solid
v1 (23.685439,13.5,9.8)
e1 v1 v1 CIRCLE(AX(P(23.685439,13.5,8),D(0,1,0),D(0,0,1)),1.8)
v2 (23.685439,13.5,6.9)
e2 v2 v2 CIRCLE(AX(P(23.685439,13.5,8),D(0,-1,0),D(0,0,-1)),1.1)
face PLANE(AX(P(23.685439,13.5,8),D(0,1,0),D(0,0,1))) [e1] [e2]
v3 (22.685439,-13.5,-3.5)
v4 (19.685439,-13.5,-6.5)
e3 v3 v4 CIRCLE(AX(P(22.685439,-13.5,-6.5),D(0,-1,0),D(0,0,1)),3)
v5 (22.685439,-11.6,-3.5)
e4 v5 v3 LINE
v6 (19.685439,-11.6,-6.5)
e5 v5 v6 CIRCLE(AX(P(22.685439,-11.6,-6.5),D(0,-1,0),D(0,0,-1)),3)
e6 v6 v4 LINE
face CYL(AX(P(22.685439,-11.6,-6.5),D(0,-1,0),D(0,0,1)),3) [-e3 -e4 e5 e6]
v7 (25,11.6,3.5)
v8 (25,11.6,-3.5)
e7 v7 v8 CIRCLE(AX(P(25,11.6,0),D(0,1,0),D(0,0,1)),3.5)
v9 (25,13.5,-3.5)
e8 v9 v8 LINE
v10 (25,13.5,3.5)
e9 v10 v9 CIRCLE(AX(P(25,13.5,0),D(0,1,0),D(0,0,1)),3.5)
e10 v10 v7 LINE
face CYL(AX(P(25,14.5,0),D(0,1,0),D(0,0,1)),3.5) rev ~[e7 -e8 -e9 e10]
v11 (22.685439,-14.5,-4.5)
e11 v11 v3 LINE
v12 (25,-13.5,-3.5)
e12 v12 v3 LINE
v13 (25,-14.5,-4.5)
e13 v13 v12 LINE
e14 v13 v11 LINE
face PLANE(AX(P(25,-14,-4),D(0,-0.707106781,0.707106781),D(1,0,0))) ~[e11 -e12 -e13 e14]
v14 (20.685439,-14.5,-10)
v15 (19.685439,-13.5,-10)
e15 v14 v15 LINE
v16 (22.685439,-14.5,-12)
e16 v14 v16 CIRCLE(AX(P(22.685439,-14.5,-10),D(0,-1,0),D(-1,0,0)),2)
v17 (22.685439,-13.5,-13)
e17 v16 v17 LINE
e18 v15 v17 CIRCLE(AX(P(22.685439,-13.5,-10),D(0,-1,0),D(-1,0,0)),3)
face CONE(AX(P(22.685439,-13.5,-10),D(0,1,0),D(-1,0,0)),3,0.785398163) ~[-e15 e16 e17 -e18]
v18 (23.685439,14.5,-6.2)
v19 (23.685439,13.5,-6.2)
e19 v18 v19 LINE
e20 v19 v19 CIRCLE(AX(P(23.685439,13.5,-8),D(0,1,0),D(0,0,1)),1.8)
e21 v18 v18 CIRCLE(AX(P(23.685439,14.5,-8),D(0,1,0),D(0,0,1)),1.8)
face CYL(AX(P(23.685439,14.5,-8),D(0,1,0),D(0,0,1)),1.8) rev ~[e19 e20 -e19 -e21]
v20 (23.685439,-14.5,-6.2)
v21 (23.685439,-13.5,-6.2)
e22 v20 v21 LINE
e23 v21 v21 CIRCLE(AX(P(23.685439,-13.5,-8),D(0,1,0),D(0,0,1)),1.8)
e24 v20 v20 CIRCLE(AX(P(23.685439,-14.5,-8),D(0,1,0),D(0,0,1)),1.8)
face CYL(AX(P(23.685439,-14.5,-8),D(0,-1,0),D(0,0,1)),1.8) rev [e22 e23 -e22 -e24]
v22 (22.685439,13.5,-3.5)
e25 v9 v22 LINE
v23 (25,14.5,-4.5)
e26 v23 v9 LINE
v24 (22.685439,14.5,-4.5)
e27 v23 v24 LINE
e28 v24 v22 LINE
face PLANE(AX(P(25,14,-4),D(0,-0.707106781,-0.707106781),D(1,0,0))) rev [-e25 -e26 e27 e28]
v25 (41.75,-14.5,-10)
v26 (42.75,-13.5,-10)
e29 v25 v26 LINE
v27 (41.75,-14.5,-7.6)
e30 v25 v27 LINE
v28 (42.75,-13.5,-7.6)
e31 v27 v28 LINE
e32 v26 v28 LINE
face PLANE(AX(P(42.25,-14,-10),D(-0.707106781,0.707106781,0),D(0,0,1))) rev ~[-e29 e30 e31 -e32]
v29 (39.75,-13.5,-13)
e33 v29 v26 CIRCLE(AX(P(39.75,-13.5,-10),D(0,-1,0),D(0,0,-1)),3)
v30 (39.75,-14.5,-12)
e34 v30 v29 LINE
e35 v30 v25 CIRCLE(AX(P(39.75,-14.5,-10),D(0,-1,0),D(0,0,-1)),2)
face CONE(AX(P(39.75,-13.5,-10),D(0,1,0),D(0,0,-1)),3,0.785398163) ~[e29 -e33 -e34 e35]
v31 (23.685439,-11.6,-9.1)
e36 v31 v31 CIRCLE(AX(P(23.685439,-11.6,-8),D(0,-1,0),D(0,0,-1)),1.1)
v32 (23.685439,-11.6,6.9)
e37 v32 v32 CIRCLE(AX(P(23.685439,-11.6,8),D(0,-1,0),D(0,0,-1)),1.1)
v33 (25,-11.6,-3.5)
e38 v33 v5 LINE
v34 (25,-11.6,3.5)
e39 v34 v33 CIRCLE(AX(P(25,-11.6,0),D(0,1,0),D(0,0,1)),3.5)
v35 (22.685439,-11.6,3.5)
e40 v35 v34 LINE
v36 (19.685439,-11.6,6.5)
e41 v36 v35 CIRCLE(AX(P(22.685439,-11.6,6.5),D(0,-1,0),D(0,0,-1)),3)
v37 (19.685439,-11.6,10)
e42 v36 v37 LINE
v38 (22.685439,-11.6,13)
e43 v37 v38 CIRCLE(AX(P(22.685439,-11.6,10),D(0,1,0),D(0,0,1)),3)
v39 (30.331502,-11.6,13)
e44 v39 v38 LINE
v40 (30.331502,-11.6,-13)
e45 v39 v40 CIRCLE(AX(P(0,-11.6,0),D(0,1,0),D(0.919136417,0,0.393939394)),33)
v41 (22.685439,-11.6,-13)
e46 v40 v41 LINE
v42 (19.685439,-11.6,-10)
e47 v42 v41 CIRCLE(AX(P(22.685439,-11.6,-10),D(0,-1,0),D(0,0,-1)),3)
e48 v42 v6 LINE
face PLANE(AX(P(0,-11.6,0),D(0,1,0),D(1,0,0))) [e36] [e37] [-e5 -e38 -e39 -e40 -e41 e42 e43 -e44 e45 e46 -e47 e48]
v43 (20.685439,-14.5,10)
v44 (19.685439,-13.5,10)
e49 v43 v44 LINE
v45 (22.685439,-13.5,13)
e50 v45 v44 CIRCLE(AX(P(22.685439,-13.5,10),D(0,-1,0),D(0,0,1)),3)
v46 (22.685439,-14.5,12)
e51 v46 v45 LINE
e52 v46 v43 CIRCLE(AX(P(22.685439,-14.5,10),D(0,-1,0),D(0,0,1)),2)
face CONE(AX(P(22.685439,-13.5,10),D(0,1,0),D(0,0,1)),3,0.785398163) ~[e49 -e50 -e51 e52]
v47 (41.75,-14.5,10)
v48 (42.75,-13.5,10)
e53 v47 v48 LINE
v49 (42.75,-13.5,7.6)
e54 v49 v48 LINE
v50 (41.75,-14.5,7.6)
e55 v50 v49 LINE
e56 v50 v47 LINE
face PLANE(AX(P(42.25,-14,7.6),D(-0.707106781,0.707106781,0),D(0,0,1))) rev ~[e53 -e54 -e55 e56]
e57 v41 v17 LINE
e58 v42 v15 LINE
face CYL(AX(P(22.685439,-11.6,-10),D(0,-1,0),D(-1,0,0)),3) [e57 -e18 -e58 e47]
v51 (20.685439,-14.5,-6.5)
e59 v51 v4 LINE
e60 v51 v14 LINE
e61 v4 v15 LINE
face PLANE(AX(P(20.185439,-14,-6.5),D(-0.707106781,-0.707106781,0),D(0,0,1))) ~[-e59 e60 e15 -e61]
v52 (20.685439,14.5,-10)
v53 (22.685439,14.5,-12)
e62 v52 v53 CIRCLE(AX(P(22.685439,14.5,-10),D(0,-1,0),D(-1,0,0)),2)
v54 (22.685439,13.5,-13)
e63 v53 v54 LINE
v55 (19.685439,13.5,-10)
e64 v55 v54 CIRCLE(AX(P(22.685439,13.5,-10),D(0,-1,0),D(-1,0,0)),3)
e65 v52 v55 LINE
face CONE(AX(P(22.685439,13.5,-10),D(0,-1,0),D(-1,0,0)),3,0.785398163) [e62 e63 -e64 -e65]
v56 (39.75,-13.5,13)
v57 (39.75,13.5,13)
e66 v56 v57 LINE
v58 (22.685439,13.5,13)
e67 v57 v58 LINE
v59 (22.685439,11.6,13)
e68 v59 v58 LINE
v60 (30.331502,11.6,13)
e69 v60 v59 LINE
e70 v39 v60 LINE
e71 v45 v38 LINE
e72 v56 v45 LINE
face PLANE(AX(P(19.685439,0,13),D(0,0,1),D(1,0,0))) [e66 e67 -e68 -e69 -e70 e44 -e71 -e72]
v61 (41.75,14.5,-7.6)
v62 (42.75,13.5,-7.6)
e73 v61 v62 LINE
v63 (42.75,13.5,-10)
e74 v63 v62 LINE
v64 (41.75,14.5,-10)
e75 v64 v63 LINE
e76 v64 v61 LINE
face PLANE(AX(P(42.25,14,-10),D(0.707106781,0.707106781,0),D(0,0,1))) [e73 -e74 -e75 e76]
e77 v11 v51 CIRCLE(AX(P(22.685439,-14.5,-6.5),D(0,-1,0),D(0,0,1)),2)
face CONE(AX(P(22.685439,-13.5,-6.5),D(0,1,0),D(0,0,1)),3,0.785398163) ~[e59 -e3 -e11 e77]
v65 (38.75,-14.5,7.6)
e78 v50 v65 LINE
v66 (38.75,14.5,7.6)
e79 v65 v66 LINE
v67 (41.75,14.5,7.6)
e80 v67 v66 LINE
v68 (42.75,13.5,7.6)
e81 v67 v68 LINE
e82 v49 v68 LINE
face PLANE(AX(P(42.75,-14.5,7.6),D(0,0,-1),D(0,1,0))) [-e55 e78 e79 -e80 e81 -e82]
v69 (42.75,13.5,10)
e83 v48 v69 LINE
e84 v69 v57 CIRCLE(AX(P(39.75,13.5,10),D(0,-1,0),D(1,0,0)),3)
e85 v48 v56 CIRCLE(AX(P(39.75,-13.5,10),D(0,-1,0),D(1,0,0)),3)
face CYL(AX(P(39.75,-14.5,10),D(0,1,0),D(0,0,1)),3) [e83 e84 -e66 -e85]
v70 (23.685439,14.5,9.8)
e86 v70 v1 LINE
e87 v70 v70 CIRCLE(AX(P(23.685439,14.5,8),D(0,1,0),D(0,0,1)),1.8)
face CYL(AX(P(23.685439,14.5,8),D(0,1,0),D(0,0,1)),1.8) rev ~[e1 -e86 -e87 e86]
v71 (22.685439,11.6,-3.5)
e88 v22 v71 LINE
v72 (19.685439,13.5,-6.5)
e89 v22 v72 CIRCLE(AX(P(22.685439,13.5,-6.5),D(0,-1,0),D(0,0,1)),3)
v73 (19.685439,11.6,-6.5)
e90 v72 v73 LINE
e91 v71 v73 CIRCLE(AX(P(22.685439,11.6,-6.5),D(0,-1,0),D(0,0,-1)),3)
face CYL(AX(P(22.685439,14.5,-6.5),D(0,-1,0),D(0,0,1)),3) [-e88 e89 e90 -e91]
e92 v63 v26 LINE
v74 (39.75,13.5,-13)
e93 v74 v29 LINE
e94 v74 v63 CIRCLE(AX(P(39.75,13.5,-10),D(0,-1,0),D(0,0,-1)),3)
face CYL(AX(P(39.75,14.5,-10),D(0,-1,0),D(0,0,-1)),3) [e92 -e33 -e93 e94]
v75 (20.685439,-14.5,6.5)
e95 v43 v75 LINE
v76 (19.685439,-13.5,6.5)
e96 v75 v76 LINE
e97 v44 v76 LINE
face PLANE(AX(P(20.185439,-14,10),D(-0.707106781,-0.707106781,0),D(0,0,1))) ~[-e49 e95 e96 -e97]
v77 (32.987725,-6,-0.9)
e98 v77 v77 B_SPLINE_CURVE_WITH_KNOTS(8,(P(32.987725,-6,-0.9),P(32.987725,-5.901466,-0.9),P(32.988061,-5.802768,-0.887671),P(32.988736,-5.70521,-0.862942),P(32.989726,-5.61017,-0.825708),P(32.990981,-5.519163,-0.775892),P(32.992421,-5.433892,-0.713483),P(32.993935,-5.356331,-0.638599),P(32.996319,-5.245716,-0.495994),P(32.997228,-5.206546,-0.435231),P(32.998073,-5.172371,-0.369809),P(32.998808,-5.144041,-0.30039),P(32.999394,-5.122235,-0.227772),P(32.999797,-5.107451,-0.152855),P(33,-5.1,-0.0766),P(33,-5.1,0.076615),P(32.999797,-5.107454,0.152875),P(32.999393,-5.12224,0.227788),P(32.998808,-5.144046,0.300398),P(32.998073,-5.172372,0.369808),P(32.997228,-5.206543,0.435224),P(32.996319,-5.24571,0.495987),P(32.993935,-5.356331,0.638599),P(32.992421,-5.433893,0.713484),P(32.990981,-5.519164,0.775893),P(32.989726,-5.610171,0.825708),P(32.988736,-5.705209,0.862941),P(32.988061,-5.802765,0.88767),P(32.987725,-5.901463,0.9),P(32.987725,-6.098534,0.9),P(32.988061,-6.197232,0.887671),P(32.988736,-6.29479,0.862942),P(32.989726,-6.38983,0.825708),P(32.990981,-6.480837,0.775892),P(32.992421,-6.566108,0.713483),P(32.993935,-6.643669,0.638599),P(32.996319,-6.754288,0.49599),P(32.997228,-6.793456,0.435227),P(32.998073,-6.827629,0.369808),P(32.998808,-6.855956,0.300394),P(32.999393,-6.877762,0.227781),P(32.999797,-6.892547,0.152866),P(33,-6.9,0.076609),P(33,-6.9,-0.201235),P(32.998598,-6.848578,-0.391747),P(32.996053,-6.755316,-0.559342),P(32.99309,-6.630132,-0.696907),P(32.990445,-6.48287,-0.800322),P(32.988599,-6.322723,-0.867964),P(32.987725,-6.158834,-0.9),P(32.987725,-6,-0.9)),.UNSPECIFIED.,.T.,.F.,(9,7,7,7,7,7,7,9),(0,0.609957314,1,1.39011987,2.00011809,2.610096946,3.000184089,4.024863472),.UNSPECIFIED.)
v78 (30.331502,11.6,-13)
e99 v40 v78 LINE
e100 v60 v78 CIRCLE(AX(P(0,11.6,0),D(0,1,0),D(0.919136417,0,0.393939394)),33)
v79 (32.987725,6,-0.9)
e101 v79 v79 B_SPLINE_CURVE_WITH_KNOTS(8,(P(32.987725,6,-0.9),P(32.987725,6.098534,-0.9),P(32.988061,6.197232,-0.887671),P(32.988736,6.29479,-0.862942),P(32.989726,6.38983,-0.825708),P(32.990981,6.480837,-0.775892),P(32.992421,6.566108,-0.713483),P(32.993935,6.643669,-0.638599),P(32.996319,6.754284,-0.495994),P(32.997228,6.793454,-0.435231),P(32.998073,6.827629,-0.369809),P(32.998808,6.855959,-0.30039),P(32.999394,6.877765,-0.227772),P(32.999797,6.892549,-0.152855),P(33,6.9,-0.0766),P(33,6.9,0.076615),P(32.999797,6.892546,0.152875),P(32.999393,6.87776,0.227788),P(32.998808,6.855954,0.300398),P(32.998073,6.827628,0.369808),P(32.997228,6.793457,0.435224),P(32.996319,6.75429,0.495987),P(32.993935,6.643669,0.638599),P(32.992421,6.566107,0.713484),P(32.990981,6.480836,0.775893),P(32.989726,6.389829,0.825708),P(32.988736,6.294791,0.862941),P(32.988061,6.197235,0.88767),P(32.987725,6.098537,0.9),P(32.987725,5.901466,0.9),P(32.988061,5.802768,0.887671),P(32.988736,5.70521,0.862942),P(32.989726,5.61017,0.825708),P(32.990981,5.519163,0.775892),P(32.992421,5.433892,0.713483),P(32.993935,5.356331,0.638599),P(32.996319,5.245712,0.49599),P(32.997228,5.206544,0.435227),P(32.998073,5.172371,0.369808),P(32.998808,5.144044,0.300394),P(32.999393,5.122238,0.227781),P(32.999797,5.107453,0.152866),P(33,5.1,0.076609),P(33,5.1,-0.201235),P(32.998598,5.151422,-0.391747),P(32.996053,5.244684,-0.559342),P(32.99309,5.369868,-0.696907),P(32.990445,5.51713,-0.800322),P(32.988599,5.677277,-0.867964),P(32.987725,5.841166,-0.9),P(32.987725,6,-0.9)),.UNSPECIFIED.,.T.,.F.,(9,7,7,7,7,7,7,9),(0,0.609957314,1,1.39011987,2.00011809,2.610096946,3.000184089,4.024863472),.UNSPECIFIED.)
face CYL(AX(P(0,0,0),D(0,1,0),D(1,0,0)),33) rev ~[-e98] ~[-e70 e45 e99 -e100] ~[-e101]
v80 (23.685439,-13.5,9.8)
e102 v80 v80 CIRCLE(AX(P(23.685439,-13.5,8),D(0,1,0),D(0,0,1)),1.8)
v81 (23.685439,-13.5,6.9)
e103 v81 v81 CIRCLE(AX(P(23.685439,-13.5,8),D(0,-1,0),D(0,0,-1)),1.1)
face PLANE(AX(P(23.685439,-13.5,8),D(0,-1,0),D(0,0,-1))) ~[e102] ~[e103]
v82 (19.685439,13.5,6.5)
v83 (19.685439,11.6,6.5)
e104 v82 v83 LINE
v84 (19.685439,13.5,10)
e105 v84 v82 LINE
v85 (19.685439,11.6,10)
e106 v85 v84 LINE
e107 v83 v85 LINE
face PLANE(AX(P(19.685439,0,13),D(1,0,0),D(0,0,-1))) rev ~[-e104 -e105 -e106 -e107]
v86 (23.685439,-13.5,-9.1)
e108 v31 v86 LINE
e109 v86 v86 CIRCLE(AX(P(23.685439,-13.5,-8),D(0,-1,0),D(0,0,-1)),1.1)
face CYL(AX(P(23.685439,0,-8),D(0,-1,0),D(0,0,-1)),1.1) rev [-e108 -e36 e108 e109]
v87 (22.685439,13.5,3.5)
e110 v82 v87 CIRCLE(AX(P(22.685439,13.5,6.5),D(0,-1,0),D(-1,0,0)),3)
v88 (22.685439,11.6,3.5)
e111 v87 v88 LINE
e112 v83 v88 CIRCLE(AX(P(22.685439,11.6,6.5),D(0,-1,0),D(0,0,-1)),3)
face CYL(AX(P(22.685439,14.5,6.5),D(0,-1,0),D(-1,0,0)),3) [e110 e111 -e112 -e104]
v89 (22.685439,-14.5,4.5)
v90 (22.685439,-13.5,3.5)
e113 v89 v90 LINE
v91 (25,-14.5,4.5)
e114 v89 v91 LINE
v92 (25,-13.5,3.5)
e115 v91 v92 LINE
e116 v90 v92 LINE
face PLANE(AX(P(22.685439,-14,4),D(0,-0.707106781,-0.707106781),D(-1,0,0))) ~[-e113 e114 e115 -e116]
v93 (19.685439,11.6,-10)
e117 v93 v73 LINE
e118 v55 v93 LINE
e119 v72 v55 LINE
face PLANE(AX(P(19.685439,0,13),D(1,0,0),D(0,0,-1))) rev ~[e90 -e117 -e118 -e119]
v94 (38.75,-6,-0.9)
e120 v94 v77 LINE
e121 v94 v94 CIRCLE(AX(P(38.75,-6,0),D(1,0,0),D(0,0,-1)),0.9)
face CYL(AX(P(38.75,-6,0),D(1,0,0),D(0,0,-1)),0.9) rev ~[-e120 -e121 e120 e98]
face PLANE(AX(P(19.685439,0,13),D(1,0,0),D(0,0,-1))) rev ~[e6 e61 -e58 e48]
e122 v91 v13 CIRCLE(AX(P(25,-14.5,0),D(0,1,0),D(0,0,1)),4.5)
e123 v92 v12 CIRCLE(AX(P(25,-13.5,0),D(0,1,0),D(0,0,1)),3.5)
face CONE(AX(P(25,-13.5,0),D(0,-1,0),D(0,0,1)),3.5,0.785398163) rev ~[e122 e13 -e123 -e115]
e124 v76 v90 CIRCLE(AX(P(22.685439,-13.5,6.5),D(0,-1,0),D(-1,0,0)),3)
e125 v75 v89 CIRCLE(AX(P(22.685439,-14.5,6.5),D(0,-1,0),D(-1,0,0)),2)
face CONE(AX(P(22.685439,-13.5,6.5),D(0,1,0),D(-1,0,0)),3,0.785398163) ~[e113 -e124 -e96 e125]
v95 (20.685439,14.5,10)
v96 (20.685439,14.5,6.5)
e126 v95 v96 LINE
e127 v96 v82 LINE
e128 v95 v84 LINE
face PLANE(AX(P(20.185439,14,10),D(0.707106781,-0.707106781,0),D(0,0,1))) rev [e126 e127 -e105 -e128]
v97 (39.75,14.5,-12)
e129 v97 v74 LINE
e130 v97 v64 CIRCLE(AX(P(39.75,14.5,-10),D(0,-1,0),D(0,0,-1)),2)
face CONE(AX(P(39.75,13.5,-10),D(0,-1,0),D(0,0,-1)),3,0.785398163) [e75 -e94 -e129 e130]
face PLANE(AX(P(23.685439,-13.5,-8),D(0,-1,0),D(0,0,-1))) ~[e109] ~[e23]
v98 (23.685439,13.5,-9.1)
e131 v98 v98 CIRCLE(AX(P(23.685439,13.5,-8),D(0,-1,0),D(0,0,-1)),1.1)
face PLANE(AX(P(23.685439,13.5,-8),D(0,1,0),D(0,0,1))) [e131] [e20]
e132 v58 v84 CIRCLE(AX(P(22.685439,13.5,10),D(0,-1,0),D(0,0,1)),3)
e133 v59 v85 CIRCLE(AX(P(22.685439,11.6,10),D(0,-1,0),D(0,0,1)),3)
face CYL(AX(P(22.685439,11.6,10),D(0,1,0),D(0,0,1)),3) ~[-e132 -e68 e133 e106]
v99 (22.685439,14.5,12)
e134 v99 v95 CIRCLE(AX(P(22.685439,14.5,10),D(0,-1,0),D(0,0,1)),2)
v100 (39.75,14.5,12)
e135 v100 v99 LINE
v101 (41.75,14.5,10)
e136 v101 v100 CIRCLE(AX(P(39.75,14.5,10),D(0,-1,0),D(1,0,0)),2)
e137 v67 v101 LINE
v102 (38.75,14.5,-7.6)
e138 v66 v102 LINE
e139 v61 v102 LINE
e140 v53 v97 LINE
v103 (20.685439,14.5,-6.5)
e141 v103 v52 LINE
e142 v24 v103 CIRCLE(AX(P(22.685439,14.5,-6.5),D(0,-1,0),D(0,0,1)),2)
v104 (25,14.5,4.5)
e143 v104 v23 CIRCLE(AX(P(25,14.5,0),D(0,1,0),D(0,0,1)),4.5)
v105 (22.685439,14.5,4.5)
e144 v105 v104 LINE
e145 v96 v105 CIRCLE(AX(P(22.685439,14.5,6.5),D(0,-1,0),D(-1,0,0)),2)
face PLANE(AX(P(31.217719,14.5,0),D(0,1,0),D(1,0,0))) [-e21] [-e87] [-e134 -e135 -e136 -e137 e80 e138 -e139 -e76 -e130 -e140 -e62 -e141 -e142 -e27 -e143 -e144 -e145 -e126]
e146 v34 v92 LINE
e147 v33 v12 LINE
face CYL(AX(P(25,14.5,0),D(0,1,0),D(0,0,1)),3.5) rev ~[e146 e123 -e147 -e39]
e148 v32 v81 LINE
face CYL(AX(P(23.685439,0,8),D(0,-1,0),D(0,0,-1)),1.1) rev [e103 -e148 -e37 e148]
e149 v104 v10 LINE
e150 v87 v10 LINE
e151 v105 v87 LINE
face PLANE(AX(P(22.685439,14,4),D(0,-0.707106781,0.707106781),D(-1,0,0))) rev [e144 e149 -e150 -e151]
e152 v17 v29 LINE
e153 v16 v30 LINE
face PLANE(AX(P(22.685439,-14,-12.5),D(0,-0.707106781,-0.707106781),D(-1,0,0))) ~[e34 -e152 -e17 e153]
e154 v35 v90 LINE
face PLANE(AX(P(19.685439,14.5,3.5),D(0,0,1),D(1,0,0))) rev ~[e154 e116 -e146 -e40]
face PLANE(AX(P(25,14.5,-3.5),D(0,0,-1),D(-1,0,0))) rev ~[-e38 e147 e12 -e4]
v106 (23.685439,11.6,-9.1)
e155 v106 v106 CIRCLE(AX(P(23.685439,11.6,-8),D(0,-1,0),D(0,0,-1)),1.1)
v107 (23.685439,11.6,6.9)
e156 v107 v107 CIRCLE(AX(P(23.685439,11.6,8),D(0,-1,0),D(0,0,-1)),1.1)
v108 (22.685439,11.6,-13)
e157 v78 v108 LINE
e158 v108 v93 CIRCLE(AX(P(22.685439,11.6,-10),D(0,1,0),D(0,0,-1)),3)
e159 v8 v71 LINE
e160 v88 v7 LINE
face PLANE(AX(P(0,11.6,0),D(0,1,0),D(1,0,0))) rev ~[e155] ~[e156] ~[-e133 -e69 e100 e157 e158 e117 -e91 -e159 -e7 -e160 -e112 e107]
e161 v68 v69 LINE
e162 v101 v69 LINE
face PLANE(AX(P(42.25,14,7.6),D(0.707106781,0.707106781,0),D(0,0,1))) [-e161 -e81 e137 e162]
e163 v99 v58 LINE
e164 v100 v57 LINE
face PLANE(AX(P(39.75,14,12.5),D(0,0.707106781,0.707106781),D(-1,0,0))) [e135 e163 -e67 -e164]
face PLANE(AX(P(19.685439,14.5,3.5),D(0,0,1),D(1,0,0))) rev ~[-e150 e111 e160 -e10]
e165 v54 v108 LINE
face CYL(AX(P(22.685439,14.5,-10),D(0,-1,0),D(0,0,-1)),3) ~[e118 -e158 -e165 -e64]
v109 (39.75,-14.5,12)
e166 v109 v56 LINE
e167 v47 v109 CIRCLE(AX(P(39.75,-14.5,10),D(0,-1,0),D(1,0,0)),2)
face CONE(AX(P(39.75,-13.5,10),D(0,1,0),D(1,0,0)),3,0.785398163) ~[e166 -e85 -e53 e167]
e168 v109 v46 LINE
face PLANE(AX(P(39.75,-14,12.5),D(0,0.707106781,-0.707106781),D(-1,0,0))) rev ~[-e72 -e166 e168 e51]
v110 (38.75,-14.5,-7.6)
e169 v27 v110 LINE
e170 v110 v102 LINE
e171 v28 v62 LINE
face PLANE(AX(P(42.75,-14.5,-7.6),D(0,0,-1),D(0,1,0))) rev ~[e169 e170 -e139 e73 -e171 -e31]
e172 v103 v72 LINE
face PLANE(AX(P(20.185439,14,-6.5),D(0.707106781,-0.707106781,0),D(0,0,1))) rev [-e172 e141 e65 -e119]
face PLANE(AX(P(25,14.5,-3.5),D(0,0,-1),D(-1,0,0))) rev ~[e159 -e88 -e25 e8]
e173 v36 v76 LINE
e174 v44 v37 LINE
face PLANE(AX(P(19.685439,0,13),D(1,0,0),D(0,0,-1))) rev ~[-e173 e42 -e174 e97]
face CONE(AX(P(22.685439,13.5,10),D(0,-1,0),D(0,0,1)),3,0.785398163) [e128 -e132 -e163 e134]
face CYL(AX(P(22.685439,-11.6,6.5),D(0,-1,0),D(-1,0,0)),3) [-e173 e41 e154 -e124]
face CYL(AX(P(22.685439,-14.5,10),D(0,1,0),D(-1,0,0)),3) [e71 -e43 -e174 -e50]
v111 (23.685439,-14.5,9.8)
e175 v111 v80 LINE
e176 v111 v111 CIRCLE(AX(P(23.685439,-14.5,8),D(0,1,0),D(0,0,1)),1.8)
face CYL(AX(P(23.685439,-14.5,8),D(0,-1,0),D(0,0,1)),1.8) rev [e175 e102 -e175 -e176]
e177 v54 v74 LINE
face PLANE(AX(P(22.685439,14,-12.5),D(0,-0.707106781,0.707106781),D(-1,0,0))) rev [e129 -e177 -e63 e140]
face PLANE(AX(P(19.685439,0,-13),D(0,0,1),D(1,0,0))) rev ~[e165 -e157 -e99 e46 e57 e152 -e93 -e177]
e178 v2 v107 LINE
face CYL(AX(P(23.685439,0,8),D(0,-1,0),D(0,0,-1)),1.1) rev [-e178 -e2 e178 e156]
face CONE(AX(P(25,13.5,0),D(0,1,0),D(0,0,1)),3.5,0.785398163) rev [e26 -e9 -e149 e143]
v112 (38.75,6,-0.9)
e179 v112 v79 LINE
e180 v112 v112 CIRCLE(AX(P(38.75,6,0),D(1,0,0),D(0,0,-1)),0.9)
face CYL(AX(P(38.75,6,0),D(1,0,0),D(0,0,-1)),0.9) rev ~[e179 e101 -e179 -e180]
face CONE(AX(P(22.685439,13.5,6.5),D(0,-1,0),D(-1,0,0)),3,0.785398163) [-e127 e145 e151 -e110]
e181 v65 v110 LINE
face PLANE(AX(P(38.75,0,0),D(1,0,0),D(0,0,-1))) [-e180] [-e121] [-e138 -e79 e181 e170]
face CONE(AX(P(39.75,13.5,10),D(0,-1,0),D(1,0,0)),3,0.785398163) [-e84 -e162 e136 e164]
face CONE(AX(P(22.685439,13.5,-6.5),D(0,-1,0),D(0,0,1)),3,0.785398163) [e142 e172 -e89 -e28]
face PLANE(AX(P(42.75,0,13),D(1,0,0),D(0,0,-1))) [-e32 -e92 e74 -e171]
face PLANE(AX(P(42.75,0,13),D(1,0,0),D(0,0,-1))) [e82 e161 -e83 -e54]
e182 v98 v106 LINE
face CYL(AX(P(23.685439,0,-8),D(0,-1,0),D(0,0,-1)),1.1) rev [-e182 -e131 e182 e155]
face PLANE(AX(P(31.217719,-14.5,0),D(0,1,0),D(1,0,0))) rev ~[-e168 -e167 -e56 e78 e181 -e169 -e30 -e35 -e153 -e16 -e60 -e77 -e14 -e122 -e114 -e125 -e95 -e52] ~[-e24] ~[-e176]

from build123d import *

# Parameters (mm, degrees)
SKETCH_2_W          = 23.064561435
SKETCH_2_H          = 26
SKETCH_2_R          = 1.1
EXTRUDE_1_DEPTH     = 14.5
SKETCH_3_R          = 33
CUT_EXTRUDE_1_DEPTH = 11.6
SKETCH_4_R          = 3.5
CUT_EXTRUDE_2_DEPTH = 54.268776032
SKETCH_5_W          = 15.2
SKETCH_5_H          = 29
CUT_EXTRUDE_3_DEPTH = 4
FILLET_1_R          = 3
SKETCH_6_R          = 0.9
CUT_EXTRUDE_4_DEPTH = 28.252660471
CHAMFER_1_SIZE      = 1
SKETCH_7_R          = 1.8
CUT_EXTRUDE_5_DEPTH = 1


with BuildPart() as part:
    # Эскиз2 → Бобышка-Вытянуть1 (new, symmetric)
    with BuildSketch(Plane(origin=(0, 0, 0), x_dir=(1, 0, 0), z_dir=(0, 1, 0))):
        with Locations((31.217719282, 0)):
            Rectangle(SKETCH_2_W, SKETCH_2_H)
        with Locations(Location((23.685438565, 8, 0), (0, 0, 90))):
            Circle(SKETCH_2_R, mode=Mode.SUBTRACT)
        with Locations(Location((23.685438565, -8, 0), (0, 0, 90))):
            Circle(SKETCH_2_R, mode=Mode.SUBTRACT)
    extrude(amount=EXTRUDE_1_DEPTH, both=True)

    # Эскиз3 → Вырез-Вытянуть1 (cut, symmetric)
    with BuildSketch(Plane(origin=(0, 0, 0), x_dir=(1, 0, 0), z_dir=(0, 1, 0))):
        Circle(SKETCH_3_R)
    extrude(amount=CUT_EXTRUDE_1_DEPTH, both=True, mode=Mode.SUBTRACT)

    # Эскиз4 → Вырез-Вытянуть2 (cut, through all)
    with BuildSketch(Plane(origin=(0, 14.5, 0), x_dir=(1, 0, 0), z_dir=(0, 1, 0))):
        with Locations((25, 0)):
            Circle(SKETCH_4_R)
        with BuildLine():
            ThreePointArc((25, -3.5), (21.5, 0), (25, 3.5))
            Line((25, 3.5), (19.685438565, 3.5))
            Line((19.685438565, 3.5), (19.685438565, -3.5))
            Line((19.685438565, -3.5), (25, -3.5))
        make_face()
    extrude(amount=-CUT_EXTRUDE_2_DEPTH, mode=Mode.SUBTRACT)

    # Эскиз5 → Вырез-Вытянуть3 (cut)
    with BuildSketch(Plane(origin=(42.75, 0, 0), x_dir=(0, 0, -1), z_dir=(1, 0, 0))):
        Rectangle(SKETCH_5_W, SKETCH_5_H)
    extrude(amount=-CUT_EXTRUDE_3_DEPTH, mode=Mode.SUBTRACT)

    # Скругление1
    fillet_1_edges = [part.edges().sort_by_distance(p)[0] for p in [
        (19.685438565, -13.05, 13),
        (19.685438565, -13.05, -13),
        (19.685438565, 13.05, 3.5),
        (19.685438565, 13.05, -3.5),
        (19.685438565, -13.05, 3.5),
        (19.685438565, -13.05, -3.5),
        (42.75, 0, 13),
        (19.685438565, 13.05, 13),
        (19.685438565, 13.05, -13),
        (42.75, 0, -13),
    ]]
    fillet(fillet_1_edges, radius=FILLET_1_R)

    # Эскиз6 → Вырез-Вытянуть4 (cut, through all)
    with BuildSketch(Plane(origin=(38.75, 0, 0), x_dir=(0, 0, -1), z_dir=(1, 0, 0))):
        with Locations((0, 6)):
            Circle(SKETCH_6_R)
        with Locations((0, -6)):
            Circle(SKETCH_6_R)
    extrude(amount=-CUT_EXTRUDE_4_DEPTH, mode=Mode.SUBTRACT)

    # Фаска1
    chamfer_1_edges = [part.edges().sort_by_distance(p)[0] for p in [
        (20.564118221, 14.5, 12.121320344),
        (20.564118221, 14.5, 4.378679656),
        (20.564118221, 14.5, -4.378679656),
        (20.564118221, 14.5, -12.121320344),
        (41.871320344, 14.5, -12.121320344),
        (28.5, -14.5, 0),
        (23.842719282, -14.5, -3.5),
        (28.5, 14.5, 0),
        (23.842719282, 14.5, -3.5),
        (42.75, -14.5, -8.8),
        (42.75, 14.5, -8.8),
        (31.217719282, 14.5, -13),
        (31.217719282, -14.5, -13),
        (42.75, -14.5, 8.8),
        (31.217719282, -14.5, 13),
        (19.685438565, -14.5, 8.25),
        (23.842719282, -14.5, 3.5),
        (19.685438565, -14.5, -8.25),
        (41.871320344, -14.5, 12.121320344),
        (20.564118221, -14.5, 12.121320344),
        (20.564118221, -14.5, 4.378679656),
        (20.564118221, -14.5, -4.378679656),
        (20.564118221, -14.5, -12.121320344),
        (41.871320344, -14.5, -12.121320344),
        (19.685438565, 14.5, -8.25),
        (23.842719282, 14.5, 3.5),
        (19.685438565, 14.5, 8.25),
        (31.217719282, 14.5, 13),
        (42.75, 14.5, 8.8),
        (41.871320344, 14.5, 12.121320344),
    ]]
    chamfer(chamfer_1_edges, length=CHAMFER_1_SIZE)

    # Эскиз7 → Вырез-Вытянуть5 (cut)
    with BuildSketch(Plane(origin=(0, 14.5, 0), x_dir=(1, 0, 0), z_dir=(0, 1, 0))):
        with Locations(Location((23.685438565, 8, 0), (0, 0, 270))):
            Circle(SKETCH_7_R)
        with Locations(Location((23.685438565, -8, 0), (0, 0, 270))):
            Circle(SKETCH_7_R)
    cut_extrude_5 = extrude(amount=-CUT_EXTRUDE_5_DEPTH, mode=Mode.SUBTRACT)

    # Зеркальное отражение1: Вырез-Вытянуть5 across plane
    add(cut_extrude_5.mirror(Plane.ZX), mode=Mode.SUBTRACT)


solid = part.part
